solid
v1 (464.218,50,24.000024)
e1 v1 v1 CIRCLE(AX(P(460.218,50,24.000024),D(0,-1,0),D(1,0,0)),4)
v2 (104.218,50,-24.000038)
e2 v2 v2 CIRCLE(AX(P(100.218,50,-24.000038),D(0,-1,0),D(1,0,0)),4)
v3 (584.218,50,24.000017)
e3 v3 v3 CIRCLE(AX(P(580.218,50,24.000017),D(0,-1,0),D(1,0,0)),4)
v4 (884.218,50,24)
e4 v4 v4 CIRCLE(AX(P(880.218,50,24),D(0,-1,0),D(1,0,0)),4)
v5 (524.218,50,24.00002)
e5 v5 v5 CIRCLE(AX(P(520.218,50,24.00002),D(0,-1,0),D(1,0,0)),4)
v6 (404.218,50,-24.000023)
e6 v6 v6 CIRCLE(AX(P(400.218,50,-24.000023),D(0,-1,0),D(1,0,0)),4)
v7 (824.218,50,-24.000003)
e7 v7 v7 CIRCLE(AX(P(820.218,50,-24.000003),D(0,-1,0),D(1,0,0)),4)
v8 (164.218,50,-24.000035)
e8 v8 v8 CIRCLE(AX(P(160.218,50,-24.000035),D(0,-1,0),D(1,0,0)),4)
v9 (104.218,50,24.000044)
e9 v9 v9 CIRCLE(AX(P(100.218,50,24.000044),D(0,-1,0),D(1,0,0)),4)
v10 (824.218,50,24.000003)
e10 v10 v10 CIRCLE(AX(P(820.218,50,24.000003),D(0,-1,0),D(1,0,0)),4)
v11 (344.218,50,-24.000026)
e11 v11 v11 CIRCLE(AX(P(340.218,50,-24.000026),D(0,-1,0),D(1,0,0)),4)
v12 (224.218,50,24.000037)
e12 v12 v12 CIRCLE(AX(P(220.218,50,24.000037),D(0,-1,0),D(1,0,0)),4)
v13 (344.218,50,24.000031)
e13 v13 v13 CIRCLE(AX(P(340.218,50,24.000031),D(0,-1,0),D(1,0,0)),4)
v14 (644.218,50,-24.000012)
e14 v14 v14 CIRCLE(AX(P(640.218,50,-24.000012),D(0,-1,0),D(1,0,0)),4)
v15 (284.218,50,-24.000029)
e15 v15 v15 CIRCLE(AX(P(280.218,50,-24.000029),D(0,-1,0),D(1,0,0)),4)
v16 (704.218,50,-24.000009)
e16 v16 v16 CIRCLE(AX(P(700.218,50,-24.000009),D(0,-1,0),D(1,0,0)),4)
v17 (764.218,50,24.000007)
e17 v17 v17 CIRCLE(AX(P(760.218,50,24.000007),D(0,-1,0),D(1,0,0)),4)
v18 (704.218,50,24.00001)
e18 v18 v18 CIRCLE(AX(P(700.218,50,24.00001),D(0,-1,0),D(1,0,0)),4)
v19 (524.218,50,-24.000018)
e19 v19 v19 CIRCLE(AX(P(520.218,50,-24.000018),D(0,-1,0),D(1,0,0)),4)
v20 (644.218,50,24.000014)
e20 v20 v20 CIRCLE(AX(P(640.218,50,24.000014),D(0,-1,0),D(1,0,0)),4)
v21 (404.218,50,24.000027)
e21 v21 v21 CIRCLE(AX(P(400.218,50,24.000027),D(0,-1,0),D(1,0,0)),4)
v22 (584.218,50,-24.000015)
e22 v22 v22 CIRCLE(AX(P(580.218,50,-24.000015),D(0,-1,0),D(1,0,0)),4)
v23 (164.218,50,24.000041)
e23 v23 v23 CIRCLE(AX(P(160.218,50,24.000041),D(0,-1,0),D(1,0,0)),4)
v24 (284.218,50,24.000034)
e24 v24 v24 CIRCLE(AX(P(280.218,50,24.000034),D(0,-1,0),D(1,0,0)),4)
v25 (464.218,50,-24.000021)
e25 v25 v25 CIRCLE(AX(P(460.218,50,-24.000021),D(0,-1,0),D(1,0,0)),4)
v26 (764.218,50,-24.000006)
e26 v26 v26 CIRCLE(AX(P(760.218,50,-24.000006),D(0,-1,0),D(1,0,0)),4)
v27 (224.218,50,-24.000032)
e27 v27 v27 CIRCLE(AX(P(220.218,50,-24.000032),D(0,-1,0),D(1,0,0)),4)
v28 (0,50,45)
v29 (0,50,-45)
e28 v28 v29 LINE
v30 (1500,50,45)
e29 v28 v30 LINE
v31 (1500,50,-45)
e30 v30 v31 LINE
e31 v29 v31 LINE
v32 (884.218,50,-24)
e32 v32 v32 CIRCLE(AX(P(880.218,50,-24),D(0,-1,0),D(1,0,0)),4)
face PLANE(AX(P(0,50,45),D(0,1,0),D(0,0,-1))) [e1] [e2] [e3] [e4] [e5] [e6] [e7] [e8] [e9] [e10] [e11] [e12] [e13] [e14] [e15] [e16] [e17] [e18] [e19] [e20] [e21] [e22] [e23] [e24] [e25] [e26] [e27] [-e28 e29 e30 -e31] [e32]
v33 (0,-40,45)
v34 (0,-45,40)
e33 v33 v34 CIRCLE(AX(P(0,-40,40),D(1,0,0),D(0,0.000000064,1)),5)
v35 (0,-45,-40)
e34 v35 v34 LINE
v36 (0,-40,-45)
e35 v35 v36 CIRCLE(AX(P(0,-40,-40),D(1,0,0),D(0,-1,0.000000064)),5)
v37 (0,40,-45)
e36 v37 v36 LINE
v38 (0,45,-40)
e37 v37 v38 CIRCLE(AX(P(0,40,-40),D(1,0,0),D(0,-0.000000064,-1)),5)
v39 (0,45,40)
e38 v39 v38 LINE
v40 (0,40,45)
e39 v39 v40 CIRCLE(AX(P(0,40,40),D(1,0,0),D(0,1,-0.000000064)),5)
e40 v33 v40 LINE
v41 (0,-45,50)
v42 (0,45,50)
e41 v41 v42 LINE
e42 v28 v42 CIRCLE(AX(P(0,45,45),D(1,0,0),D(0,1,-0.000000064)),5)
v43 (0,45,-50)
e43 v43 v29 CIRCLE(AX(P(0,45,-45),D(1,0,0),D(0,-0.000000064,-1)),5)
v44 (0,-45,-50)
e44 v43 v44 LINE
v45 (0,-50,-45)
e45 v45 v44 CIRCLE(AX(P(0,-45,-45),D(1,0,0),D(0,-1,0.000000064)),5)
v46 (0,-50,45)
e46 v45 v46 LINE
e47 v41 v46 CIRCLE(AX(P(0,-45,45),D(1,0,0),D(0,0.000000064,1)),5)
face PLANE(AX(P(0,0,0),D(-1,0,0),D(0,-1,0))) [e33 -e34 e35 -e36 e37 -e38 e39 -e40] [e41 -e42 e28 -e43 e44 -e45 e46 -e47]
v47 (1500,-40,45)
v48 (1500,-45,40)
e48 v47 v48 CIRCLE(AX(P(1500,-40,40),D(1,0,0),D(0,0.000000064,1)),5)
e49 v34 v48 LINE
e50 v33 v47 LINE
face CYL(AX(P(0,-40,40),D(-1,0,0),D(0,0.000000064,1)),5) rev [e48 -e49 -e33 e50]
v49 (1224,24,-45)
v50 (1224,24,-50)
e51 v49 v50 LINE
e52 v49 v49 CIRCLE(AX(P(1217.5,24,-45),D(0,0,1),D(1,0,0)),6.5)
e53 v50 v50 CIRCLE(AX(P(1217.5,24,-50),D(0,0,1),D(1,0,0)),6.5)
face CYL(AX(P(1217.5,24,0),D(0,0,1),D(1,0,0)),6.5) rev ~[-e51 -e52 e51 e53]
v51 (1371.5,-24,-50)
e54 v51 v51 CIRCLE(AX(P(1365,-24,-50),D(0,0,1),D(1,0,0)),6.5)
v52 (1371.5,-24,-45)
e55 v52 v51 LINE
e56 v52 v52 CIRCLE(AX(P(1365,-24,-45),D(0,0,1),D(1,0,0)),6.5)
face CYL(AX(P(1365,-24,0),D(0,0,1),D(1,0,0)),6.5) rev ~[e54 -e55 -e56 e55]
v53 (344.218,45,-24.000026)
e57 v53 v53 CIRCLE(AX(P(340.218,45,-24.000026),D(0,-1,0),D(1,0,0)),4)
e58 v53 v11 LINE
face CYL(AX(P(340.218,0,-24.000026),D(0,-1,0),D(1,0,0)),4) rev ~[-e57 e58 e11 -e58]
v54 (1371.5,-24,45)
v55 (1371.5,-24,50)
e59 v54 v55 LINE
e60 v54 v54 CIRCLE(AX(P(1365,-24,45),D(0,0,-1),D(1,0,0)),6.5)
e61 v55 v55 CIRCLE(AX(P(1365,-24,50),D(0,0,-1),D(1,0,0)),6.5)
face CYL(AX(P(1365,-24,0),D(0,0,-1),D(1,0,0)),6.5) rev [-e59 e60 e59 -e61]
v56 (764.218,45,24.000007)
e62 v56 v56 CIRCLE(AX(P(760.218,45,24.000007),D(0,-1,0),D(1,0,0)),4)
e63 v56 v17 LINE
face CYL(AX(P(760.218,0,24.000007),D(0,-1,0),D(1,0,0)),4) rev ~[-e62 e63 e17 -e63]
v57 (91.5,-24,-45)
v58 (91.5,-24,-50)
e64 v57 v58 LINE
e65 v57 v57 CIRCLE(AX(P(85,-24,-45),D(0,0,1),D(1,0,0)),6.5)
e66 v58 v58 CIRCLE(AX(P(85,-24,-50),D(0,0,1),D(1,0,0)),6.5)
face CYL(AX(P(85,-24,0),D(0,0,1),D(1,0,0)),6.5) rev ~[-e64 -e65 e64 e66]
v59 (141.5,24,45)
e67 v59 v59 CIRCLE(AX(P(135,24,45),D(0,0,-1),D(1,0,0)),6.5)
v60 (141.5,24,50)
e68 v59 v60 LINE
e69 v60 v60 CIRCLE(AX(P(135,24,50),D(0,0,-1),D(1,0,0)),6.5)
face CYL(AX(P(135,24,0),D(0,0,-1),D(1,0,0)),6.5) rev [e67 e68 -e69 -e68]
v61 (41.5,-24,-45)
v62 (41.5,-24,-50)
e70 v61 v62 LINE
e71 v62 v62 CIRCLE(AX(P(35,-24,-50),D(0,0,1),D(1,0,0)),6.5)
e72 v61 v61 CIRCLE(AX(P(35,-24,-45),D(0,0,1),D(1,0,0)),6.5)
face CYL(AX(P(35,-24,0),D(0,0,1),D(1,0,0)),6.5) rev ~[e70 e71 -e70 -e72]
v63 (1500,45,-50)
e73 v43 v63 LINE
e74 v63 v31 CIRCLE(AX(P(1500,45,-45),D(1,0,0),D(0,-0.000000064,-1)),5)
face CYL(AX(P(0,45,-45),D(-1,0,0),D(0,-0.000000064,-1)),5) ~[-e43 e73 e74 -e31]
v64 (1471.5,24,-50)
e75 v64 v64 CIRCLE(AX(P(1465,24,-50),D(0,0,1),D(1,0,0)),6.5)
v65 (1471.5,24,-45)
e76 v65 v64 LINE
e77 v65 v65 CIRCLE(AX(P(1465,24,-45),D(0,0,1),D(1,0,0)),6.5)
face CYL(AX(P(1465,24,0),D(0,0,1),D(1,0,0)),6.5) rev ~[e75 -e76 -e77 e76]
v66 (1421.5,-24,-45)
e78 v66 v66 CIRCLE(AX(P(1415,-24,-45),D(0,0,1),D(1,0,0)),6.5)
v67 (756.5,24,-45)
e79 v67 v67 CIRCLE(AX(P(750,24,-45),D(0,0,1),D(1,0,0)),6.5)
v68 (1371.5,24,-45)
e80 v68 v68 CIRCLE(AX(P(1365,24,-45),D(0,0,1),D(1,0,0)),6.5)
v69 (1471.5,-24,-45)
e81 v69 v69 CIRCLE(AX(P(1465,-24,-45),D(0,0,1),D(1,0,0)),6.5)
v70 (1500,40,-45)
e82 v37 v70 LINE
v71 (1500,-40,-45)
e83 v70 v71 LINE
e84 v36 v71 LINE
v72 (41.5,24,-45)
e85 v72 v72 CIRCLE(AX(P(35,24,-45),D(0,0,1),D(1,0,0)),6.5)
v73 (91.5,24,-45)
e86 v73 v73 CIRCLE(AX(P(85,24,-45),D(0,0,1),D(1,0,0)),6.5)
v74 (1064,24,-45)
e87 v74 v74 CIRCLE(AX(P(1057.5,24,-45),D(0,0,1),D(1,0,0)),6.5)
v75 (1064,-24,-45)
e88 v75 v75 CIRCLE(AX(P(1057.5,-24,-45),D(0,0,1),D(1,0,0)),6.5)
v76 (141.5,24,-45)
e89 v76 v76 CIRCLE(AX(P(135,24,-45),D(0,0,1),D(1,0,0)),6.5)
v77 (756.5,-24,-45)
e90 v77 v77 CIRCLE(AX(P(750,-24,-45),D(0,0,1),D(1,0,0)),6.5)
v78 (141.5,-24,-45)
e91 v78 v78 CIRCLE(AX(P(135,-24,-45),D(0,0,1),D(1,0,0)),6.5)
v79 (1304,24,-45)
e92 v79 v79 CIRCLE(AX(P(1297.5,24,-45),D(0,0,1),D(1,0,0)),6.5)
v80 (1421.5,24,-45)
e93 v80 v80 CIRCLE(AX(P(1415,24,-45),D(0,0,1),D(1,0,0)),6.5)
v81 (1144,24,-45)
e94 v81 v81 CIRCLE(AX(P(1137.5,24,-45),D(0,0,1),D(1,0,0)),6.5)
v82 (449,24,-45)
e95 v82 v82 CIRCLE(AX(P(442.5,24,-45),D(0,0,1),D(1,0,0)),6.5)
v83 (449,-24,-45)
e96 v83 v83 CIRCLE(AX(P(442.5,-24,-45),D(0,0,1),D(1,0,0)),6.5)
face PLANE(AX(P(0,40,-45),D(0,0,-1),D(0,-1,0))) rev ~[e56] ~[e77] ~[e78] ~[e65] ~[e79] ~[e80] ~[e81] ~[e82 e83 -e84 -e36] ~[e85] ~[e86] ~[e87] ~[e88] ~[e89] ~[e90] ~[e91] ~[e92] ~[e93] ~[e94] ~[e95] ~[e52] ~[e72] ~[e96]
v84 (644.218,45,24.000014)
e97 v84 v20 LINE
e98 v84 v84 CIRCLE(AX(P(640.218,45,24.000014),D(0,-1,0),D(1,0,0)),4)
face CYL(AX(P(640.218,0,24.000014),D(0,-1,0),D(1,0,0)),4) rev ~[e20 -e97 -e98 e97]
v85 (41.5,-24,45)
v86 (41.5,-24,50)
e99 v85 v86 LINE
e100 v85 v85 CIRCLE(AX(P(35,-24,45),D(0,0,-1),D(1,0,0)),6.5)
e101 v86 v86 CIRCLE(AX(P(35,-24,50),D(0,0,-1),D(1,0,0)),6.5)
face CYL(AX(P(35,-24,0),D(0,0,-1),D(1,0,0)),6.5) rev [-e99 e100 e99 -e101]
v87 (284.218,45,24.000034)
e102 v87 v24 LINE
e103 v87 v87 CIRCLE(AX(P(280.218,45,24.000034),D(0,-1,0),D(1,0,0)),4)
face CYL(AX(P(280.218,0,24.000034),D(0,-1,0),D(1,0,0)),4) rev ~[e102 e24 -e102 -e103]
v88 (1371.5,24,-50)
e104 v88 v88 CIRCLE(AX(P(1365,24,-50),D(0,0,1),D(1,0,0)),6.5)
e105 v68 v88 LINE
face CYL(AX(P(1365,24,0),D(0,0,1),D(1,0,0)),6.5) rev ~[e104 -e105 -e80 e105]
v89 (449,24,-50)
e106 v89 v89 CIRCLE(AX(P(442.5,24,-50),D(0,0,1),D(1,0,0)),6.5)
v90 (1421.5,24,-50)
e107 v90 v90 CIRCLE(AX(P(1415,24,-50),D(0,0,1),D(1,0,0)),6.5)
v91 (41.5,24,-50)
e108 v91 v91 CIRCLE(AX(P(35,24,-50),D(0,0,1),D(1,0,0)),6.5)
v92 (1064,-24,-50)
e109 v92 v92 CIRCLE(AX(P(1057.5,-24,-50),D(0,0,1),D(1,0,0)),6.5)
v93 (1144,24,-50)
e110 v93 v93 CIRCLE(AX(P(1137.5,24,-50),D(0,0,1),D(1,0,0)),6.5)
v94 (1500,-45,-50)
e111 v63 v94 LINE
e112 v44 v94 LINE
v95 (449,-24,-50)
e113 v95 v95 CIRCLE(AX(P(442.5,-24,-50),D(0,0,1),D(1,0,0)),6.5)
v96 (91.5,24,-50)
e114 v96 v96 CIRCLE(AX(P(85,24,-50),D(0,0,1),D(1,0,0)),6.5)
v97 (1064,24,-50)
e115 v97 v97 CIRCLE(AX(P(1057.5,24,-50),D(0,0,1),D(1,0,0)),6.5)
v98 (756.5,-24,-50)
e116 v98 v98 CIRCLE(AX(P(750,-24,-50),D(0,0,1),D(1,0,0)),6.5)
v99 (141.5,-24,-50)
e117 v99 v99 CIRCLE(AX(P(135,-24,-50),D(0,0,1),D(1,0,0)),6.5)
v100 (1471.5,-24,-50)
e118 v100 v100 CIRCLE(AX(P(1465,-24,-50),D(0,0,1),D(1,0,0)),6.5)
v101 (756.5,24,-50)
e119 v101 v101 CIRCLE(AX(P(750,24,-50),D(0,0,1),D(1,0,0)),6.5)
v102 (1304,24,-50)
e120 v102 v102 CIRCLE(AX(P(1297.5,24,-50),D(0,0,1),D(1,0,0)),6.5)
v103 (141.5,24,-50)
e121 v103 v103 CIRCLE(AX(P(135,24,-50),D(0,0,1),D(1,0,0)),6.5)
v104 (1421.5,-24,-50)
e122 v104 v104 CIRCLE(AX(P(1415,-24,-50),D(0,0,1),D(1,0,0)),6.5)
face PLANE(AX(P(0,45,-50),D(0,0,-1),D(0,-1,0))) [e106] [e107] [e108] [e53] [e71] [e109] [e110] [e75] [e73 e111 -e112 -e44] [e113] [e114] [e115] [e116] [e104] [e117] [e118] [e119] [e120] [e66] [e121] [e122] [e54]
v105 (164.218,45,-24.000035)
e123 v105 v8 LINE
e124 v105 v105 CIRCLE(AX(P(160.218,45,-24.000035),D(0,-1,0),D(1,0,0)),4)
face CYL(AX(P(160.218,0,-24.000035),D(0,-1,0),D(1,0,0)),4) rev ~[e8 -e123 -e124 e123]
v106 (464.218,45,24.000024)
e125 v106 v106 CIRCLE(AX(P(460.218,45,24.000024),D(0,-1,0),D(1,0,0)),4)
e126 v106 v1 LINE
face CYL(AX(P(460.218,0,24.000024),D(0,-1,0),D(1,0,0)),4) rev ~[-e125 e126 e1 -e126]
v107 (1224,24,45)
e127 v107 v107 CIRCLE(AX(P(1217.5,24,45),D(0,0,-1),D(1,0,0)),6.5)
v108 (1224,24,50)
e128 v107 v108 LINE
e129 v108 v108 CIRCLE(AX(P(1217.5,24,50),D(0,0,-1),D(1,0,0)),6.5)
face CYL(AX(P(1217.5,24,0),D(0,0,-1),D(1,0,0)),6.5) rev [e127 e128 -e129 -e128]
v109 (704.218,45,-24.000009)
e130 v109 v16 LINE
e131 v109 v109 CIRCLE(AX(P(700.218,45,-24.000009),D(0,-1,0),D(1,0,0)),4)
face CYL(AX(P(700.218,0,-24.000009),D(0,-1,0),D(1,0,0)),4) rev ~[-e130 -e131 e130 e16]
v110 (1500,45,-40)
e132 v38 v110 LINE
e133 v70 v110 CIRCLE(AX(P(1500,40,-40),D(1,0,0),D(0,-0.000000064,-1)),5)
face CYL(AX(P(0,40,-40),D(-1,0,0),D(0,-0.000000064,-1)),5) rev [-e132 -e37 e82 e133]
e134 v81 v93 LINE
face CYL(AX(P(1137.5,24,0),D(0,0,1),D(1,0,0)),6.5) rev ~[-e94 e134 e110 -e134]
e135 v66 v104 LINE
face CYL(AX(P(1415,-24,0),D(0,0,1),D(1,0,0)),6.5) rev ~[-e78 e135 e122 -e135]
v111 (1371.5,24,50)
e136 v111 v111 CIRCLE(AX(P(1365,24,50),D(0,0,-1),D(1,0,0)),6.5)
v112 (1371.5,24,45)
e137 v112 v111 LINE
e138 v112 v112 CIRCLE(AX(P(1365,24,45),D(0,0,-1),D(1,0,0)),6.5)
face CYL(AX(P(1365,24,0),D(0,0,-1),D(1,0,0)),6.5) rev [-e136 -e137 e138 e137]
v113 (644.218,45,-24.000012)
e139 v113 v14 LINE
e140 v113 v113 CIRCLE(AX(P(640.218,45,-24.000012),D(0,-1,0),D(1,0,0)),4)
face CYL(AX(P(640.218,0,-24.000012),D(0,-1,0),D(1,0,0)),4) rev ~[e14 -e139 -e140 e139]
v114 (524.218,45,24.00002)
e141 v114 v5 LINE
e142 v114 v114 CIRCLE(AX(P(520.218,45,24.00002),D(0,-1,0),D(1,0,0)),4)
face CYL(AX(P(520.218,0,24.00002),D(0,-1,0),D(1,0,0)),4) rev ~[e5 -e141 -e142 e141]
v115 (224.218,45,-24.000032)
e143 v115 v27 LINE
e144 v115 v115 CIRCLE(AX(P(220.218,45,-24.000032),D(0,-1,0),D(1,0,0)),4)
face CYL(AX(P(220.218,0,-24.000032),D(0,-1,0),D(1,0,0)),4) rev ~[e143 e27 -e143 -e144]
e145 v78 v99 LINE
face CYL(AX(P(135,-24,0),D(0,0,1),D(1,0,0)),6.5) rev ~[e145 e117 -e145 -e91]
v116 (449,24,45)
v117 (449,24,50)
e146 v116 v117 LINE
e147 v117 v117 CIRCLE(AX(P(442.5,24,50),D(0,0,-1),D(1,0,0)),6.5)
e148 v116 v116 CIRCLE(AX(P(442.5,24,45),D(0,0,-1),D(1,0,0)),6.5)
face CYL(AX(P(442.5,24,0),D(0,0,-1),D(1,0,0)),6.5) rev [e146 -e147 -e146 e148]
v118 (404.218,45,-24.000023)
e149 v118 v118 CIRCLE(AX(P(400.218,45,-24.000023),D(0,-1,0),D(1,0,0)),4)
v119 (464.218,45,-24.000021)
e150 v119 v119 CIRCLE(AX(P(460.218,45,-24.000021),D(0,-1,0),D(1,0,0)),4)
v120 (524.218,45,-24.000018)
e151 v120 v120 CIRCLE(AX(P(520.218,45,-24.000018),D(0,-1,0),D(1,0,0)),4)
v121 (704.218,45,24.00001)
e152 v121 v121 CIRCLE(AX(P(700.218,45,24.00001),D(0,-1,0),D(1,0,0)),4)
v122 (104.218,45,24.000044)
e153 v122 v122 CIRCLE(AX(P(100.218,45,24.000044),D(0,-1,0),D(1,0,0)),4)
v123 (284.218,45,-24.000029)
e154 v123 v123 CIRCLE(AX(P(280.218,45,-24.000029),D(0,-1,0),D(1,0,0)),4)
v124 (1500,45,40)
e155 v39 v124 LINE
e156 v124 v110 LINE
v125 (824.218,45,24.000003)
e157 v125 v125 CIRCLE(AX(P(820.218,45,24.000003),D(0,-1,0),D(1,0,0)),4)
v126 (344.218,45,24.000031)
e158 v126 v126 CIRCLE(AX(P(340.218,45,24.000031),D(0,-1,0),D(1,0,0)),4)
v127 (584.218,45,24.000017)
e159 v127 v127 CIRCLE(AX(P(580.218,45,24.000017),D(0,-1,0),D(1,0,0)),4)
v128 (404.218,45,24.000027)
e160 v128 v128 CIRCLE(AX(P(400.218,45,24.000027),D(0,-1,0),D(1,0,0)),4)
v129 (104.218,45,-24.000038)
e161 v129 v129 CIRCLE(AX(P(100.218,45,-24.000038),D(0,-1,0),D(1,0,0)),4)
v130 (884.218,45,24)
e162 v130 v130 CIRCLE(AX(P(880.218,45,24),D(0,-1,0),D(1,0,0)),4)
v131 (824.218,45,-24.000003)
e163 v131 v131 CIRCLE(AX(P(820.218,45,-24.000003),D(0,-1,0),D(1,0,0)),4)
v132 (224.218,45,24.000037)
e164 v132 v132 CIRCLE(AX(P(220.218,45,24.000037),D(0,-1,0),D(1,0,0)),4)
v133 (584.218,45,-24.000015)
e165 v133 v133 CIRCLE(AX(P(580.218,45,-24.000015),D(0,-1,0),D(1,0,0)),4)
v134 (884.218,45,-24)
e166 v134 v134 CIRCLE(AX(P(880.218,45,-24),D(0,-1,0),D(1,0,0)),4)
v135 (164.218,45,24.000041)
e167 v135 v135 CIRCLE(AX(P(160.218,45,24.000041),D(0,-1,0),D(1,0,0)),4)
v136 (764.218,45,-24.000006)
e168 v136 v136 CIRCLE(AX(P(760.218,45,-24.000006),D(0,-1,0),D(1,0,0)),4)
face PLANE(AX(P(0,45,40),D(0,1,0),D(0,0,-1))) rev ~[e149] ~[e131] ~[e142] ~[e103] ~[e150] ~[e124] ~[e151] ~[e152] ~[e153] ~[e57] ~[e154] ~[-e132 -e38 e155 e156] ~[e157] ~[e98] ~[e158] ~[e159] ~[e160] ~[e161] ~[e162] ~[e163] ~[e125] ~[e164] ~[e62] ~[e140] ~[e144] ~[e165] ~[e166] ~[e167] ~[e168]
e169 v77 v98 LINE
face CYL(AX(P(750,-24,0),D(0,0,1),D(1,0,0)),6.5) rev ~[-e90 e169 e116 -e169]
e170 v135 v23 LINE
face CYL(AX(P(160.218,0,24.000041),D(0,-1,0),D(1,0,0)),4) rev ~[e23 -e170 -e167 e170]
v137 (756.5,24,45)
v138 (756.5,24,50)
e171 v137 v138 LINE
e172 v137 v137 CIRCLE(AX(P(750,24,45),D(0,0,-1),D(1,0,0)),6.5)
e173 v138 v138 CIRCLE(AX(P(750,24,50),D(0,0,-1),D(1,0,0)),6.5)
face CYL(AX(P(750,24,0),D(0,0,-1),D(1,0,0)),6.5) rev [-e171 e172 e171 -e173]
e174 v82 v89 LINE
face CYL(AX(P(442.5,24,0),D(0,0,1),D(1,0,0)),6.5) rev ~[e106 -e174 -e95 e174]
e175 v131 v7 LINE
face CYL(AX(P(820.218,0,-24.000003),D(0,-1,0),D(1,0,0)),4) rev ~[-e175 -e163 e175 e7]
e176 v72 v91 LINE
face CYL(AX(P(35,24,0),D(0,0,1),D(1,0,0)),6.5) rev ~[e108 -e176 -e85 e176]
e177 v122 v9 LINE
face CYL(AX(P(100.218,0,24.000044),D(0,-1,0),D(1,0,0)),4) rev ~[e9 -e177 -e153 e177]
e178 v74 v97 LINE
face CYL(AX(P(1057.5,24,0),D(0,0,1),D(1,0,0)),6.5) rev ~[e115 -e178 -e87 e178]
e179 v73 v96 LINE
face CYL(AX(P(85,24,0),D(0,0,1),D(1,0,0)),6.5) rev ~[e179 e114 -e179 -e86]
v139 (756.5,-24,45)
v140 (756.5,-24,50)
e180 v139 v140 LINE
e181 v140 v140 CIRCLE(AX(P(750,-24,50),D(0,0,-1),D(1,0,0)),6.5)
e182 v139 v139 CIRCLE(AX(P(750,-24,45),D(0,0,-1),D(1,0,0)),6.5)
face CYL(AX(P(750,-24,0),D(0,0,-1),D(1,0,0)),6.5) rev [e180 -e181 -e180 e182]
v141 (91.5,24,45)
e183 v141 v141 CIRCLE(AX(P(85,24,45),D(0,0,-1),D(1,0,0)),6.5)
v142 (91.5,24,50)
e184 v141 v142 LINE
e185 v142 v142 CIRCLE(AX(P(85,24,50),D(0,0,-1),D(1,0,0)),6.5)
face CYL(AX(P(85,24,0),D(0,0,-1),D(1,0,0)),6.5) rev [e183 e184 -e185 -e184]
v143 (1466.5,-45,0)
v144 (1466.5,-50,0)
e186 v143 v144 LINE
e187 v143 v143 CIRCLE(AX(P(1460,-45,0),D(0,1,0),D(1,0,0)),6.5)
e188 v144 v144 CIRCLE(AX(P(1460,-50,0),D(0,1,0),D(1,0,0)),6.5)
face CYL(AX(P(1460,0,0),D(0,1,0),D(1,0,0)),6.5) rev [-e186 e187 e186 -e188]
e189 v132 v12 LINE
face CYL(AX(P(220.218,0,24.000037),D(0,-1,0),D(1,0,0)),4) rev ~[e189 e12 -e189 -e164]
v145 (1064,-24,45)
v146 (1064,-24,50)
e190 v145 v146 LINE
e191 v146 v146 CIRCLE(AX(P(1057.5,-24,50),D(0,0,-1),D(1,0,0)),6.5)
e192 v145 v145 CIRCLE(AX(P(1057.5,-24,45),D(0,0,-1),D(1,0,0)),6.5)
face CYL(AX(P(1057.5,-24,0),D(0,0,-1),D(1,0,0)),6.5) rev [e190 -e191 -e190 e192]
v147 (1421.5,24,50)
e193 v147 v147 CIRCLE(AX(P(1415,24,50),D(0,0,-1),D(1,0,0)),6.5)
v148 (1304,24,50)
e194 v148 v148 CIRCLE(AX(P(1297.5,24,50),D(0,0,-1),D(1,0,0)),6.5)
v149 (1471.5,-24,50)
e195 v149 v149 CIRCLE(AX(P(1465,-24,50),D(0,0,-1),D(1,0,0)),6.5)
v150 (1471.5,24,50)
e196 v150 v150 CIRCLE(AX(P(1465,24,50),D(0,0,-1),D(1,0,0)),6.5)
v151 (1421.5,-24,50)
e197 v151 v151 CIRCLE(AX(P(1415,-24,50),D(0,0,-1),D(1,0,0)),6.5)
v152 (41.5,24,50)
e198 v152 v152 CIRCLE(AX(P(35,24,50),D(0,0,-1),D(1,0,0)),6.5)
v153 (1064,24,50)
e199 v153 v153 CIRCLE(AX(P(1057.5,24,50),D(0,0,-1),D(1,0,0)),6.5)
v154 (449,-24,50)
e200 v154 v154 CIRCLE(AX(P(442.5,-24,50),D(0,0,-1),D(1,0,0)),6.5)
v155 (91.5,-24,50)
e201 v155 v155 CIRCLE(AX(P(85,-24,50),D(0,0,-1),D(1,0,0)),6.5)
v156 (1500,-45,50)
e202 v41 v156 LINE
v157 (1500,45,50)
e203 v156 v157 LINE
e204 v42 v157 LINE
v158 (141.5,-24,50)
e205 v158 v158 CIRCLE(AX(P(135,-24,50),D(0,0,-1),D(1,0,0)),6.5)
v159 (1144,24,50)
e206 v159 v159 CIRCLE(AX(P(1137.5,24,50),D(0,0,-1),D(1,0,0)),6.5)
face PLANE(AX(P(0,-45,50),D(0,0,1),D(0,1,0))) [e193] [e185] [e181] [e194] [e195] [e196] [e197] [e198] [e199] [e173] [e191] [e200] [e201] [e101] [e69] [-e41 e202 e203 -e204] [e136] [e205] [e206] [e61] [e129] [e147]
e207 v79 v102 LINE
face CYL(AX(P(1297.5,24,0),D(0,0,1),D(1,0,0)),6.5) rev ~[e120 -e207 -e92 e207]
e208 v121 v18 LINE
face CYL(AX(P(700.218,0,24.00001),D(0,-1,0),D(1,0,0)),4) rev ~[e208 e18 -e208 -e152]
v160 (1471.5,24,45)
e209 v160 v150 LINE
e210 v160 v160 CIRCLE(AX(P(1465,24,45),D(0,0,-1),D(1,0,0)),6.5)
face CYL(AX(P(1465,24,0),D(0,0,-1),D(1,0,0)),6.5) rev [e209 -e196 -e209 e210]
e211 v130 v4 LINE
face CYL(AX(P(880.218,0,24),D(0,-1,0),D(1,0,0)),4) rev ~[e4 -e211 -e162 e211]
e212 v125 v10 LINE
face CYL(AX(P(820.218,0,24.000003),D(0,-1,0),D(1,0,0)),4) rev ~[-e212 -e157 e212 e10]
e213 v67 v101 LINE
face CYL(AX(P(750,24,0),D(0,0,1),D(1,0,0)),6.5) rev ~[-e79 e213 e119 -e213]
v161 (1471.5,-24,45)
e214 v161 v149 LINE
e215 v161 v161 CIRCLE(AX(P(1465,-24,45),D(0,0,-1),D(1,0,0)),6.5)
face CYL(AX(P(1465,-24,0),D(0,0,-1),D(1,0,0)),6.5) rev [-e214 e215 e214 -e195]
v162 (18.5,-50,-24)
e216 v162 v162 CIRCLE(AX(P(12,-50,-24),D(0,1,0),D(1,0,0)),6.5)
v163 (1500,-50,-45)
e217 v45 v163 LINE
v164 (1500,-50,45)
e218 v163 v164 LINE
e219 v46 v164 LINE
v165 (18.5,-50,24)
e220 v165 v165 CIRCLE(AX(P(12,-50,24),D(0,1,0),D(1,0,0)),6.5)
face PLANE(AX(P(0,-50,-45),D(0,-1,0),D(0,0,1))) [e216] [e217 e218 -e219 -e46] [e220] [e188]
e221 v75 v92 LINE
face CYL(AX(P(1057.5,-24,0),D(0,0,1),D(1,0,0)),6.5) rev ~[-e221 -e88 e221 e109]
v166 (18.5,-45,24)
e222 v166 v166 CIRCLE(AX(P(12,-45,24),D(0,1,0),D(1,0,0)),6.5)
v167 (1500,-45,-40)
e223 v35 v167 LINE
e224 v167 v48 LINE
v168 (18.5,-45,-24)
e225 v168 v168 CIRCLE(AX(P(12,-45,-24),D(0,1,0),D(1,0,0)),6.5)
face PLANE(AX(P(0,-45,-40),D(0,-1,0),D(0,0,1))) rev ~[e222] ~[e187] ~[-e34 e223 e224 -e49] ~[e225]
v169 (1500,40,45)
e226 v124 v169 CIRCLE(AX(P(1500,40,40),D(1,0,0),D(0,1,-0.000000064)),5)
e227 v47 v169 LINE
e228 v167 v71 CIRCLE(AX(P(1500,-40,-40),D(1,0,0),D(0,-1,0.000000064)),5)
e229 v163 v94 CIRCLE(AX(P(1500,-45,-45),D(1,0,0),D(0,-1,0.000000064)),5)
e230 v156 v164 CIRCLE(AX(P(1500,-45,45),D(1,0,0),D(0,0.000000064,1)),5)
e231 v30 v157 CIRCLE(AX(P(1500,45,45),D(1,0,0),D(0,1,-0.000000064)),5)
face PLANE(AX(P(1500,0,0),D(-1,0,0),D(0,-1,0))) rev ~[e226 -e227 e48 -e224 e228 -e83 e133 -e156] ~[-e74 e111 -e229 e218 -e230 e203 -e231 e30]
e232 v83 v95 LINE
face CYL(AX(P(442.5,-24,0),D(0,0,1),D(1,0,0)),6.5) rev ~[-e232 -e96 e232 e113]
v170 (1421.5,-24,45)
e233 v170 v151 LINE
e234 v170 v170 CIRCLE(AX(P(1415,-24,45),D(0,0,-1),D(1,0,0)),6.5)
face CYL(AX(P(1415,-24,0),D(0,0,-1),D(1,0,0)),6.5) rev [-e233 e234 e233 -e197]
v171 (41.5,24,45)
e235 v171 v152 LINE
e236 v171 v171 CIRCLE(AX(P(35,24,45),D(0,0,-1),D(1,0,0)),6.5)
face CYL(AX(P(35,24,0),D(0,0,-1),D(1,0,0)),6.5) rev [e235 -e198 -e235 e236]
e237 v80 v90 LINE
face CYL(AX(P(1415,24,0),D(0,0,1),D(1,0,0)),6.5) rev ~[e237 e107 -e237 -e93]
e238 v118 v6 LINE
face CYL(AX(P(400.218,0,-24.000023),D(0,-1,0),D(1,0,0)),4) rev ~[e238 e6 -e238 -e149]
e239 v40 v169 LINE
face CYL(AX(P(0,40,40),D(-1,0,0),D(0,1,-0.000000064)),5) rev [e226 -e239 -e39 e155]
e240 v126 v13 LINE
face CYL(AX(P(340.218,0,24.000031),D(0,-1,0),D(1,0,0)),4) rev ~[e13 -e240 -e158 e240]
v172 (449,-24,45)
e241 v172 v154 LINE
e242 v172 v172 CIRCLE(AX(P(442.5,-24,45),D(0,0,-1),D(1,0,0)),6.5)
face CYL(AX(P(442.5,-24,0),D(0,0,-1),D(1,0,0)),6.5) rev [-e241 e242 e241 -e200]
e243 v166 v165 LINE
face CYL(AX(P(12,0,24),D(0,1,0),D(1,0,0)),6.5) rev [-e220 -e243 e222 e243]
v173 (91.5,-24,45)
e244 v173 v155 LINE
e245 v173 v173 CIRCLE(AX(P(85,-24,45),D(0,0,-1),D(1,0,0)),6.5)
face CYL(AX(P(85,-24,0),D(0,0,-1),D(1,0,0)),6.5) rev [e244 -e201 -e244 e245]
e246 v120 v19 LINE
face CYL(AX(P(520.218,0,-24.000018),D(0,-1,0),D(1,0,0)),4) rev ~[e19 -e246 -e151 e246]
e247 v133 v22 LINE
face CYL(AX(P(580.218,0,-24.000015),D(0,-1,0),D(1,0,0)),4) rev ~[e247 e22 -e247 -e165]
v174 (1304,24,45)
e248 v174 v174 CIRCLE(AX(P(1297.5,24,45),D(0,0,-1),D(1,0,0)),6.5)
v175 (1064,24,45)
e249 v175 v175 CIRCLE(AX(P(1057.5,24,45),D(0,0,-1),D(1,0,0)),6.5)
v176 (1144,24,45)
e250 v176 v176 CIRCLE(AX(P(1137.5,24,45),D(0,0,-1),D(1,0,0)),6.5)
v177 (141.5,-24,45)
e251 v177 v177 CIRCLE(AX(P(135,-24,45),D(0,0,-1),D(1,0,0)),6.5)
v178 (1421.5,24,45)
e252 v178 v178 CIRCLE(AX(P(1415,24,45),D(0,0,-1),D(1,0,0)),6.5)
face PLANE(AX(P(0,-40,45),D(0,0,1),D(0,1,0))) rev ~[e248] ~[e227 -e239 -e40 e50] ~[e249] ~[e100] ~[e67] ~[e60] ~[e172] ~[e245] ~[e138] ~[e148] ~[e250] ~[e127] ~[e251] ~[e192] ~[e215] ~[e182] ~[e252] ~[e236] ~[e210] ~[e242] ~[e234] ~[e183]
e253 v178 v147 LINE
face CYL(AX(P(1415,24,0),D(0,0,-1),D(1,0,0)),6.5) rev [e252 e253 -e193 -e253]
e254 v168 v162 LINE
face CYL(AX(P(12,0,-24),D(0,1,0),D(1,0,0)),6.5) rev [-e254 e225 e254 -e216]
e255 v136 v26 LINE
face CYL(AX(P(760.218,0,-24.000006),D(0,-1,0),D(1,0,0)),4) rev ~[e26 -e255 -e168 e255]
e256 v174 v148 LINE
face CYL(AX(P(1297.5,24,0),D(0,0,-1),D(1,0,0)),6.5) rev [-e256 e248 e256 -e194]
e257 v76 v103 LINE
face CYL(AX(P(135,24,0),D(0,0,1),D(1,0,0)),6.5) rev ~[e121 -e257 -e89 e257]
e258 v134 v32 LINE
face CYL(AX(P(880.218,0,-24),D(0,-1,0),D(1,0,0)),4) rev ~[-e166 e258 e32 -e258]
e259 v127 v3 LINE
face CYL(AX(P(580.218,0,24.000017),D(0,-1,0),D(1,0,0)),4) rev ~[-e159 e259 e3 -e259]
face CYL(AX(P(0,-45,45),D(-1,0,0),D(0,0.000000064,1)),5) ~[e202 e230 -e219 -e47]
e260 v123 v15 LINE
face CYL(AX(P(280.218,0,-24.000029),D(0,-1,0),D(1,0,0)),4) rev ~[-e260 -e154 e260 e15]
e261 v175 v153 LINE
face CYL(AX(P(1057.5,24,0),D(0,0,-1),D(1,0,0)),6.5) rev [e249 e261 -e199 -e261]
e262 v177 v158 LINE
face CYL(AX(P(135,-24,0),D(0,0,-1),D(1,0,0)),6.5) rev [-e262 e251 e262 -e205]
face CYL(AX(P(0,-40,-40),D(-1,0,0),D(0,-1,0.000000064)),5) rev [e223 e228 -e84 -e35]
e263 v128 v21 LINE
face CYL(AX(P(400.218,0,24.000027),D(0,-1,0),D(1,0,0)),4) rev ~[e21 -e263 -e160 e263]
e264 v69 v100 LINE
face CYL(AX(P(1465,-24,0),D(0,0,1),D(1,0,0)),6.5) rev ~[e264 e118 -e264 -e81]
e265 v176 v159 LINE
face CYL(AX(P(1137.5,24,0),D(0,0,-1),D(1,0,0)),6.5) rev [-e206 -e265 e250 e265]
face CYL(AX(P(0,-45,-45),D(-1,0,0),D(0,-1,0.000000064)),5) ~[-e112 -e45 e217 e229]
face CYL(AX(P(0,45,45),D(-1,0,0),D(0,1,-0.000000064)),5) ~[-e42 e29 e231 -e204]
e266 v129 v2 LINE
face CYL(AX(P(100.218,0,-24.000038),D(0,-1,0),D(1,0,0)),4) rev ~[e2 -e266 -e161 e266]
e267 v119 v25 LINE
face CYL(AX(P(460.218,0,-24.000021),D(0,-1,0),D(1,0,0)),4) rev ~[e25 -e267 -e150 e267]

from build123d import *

# Parameters (mm, degrees)
PAD_DEPTH         = 1500
SKETCH004_R       = 4
POCKET003_DEPTH   = 50.001
SKETCH005_R       = 6.5
POCKET004_DEPTH   = 50.001
SKETCH006_R       = 6.5
POCKET_DEPTH      = 50.001
POCKET_DEPTH_BACK = -50.001


with BuildPart() as part:
    # Sketch → Pad (new body)
    with BuildSketch(Plane.YZ):
        with BuildLine():
            Line((-45, 50), (45, 50))
            ThreePointArc((50, 45), (48.535534, 48.535534), (45, 50))
            Line((50, 45), (50, -45))
            ThreePointArc((45, -50), (48.535534, -48.535534), (50, -45))
            Line((45, -50), (-45, -50))
            ThreePointArc((-50, -45), (-48.535534, -48.535534), (-45, -50))
            Line((-50, -45), (-50, 45))
            ThreePointArc((-45, 50), (-48.535534, 48.535534), (-50, 45))
        make_face()
        with BuildLine():
            Line((-40, 45), (40, 45))
            ThreePointArc((45, 40), (43.535534, 43.535534), (40, 45))
            Line((45, 40), (45, -40))
            ThreePointArc((40, -45), (43.535534, -43.535534), (45, -40))
            Line((40, -45), (-40, -45))
            ThreePointArc((-45, -40), (-43.535534, -43.535534), (-40, -45))
            Line((-45, -40), (-45, 40))
            ThreePointArc((-40, 45), (-43.535534, 43.535534), (-45, 40))
        make_face(mode=Mode.SUBTRACT)
    extrude(amount=PAD_DEPTH)

    # Sketch004 → Pocket003 (cut, through all)
    with BuildSketch(Plane.XZ):
        with Locations((880.218, 24)):
            Circle(SKETCH004_R)
        with Locations((880.218, -24)):
            Circle(SKETCH004_R)
        with Locations((820.218, 24.000003)):
            Circle(SKETCH004_R)
        with Locations((760.218, 24.000007)):
            Circle(SKETCH004_R)
        with Locations((700.218, 24.00001)):
            Circle(SKETCH004_R)
        with Locations((640.218, 24.000014)):
            Circle(SKETCH004_R)
        with Locations((580.218, 24.000017)):
            Circle(SKETCH004_R)
        with Locations((520.218, 24.00002)):
            Circle(SKETCH004_R)
        with Locations((460.218, 24.000024)):
            Circle(SKETCH004_R)
        with Locations((400.218, 24.000027)):
            Circle(SKETCH004_R)
        with Locations((340.218, 24.000031)):
            Circle(SKETCH004_R)
        with Locations((280.218, 24.000034)):
            Circle(SKETCH004_R)
        with Locations((220.218, 24.000037)):
            Circle(SKETCH004_R)
        with Locations((160.218, 24.000041)):
            Circle(SKETCH004_R)
        with Locations((100.218, 24.000044)):
            Circle(SKETCH004_R)
        with Locations((820.218, -24.000003)):
            Circle(SKETCH004_R)
        with Locations((760.218, -24.000006)):
            Circle(SKETCH004_R)
        with Locations((700.218, -24.000009)):
            Circle(SKETCH004_R)
        with Locations((640.218, -24.000012)):
            Circle(SKETCH004_R)
        with Locations((580.218, -24.000015)):
            Circle(SKETCH004_R)
        with Locations((520.218, -24.000018)):
            Circle(SKETCH004_R)
        with Locations((460.218, -24.000021)):
            Circle(SKETCH004_R)
        with Locations((400.218, -24.000023)):
            Circle(SKETCH004_R)
        with Locations((340.218, -24.000026)):
            Circle(SKETCH004_R)
        with Locations((280.218, -24.000029)):
            Circle(SKETCH004_R)
        with Locations((220.218, -24.000032)):
            Circle(SKETCH004_R)
        with Locations((160.218, -24.000035)):
            Circle(SKETCH004_R)
        with Locations((100.218, -24.000038)):
            Circle(SKETCH004_R)
    extrude(amount=-POCKET003_DEPTH, mode=Mode.SUBTRACT)

    # Sketch005 → Pocket004 (cut, through all)
    with BuildSketch(Plane.XZ):
        with Locations((12, 24)):
            Circle(SKETCH005_R)
        with Locations((12, -24)):
            Circle(SKETCH005_R)
        with Locations((1460, 0)):
            Circle(SKETCH005_R)
    extrude(amount=POCKET004_DEPTH, mode=Mode.SUBTRACT)

    # Sketch006 → Pocket (cut, two sides)
    with BuildSketch(Plane.XY) as pocket_sk:
        with Locations((35, 24)):
            Circle(SKETCH006_R)
        with Locations((35, -24)):
            Circle(SKETCH006_R)
        with Locations((85, 24)):
            Circle(SKETCH006_R)
        with Locations((135, 24)):
            Circle(SKETCH006_R)
        with Locations((135, -24)):
            Circle(SKETCH006_R)
        with Locations((85, -24)):
            Circle(SKETCH006_R)
        with Locations((442.5, 24)):
            Circle(SKETCH006_R)
        with Locations((442.5, -24)):
            Circle(SKETCH006_R)
        with Locations((750, 24)):
            Circle(SKETCH006_R)
        with Locations((750, -24)):
            Circle(SKETCH006_R)
        with Locations((1057.5, 24)):
            Circle(SKETCH006_R)
        with Locations((1057.5, -24)):
            Circle(SKETCH006_R)
        with Locations((1365, 24)):
            Circle(SKETCH006_R)
        with Locations((1415, 24)):
            Circle(SKETCH006_R)
        with Locations((1465, 24)):
            Circle(SKETCH006_R)
        with Locations((1465, -24)):
            Circle(SKETCH006_R)
        with Locations((1415, -24)):
            Circle(SKETCH006_R)
        with Locations((1365, -24)):
            Circle(SKETCH006_R)
        with Locations((1297.5, 24)):
            Circle(SKETCH006_R)
        with Locations((1217.5, 24)):
            Circle(SKETCH006_R)
        with Locations((1137.5, 24)):
            Circle(SKETCH006_R)
    extrude(amount=-POCKET_DEPTH, mode=Mode.SUBTRACT)
    extrude(pocket_sk.sketch, amount=-POCKET_DEPTH_BACK, mode=Mode.SUBTRACT)


solid = part.part
